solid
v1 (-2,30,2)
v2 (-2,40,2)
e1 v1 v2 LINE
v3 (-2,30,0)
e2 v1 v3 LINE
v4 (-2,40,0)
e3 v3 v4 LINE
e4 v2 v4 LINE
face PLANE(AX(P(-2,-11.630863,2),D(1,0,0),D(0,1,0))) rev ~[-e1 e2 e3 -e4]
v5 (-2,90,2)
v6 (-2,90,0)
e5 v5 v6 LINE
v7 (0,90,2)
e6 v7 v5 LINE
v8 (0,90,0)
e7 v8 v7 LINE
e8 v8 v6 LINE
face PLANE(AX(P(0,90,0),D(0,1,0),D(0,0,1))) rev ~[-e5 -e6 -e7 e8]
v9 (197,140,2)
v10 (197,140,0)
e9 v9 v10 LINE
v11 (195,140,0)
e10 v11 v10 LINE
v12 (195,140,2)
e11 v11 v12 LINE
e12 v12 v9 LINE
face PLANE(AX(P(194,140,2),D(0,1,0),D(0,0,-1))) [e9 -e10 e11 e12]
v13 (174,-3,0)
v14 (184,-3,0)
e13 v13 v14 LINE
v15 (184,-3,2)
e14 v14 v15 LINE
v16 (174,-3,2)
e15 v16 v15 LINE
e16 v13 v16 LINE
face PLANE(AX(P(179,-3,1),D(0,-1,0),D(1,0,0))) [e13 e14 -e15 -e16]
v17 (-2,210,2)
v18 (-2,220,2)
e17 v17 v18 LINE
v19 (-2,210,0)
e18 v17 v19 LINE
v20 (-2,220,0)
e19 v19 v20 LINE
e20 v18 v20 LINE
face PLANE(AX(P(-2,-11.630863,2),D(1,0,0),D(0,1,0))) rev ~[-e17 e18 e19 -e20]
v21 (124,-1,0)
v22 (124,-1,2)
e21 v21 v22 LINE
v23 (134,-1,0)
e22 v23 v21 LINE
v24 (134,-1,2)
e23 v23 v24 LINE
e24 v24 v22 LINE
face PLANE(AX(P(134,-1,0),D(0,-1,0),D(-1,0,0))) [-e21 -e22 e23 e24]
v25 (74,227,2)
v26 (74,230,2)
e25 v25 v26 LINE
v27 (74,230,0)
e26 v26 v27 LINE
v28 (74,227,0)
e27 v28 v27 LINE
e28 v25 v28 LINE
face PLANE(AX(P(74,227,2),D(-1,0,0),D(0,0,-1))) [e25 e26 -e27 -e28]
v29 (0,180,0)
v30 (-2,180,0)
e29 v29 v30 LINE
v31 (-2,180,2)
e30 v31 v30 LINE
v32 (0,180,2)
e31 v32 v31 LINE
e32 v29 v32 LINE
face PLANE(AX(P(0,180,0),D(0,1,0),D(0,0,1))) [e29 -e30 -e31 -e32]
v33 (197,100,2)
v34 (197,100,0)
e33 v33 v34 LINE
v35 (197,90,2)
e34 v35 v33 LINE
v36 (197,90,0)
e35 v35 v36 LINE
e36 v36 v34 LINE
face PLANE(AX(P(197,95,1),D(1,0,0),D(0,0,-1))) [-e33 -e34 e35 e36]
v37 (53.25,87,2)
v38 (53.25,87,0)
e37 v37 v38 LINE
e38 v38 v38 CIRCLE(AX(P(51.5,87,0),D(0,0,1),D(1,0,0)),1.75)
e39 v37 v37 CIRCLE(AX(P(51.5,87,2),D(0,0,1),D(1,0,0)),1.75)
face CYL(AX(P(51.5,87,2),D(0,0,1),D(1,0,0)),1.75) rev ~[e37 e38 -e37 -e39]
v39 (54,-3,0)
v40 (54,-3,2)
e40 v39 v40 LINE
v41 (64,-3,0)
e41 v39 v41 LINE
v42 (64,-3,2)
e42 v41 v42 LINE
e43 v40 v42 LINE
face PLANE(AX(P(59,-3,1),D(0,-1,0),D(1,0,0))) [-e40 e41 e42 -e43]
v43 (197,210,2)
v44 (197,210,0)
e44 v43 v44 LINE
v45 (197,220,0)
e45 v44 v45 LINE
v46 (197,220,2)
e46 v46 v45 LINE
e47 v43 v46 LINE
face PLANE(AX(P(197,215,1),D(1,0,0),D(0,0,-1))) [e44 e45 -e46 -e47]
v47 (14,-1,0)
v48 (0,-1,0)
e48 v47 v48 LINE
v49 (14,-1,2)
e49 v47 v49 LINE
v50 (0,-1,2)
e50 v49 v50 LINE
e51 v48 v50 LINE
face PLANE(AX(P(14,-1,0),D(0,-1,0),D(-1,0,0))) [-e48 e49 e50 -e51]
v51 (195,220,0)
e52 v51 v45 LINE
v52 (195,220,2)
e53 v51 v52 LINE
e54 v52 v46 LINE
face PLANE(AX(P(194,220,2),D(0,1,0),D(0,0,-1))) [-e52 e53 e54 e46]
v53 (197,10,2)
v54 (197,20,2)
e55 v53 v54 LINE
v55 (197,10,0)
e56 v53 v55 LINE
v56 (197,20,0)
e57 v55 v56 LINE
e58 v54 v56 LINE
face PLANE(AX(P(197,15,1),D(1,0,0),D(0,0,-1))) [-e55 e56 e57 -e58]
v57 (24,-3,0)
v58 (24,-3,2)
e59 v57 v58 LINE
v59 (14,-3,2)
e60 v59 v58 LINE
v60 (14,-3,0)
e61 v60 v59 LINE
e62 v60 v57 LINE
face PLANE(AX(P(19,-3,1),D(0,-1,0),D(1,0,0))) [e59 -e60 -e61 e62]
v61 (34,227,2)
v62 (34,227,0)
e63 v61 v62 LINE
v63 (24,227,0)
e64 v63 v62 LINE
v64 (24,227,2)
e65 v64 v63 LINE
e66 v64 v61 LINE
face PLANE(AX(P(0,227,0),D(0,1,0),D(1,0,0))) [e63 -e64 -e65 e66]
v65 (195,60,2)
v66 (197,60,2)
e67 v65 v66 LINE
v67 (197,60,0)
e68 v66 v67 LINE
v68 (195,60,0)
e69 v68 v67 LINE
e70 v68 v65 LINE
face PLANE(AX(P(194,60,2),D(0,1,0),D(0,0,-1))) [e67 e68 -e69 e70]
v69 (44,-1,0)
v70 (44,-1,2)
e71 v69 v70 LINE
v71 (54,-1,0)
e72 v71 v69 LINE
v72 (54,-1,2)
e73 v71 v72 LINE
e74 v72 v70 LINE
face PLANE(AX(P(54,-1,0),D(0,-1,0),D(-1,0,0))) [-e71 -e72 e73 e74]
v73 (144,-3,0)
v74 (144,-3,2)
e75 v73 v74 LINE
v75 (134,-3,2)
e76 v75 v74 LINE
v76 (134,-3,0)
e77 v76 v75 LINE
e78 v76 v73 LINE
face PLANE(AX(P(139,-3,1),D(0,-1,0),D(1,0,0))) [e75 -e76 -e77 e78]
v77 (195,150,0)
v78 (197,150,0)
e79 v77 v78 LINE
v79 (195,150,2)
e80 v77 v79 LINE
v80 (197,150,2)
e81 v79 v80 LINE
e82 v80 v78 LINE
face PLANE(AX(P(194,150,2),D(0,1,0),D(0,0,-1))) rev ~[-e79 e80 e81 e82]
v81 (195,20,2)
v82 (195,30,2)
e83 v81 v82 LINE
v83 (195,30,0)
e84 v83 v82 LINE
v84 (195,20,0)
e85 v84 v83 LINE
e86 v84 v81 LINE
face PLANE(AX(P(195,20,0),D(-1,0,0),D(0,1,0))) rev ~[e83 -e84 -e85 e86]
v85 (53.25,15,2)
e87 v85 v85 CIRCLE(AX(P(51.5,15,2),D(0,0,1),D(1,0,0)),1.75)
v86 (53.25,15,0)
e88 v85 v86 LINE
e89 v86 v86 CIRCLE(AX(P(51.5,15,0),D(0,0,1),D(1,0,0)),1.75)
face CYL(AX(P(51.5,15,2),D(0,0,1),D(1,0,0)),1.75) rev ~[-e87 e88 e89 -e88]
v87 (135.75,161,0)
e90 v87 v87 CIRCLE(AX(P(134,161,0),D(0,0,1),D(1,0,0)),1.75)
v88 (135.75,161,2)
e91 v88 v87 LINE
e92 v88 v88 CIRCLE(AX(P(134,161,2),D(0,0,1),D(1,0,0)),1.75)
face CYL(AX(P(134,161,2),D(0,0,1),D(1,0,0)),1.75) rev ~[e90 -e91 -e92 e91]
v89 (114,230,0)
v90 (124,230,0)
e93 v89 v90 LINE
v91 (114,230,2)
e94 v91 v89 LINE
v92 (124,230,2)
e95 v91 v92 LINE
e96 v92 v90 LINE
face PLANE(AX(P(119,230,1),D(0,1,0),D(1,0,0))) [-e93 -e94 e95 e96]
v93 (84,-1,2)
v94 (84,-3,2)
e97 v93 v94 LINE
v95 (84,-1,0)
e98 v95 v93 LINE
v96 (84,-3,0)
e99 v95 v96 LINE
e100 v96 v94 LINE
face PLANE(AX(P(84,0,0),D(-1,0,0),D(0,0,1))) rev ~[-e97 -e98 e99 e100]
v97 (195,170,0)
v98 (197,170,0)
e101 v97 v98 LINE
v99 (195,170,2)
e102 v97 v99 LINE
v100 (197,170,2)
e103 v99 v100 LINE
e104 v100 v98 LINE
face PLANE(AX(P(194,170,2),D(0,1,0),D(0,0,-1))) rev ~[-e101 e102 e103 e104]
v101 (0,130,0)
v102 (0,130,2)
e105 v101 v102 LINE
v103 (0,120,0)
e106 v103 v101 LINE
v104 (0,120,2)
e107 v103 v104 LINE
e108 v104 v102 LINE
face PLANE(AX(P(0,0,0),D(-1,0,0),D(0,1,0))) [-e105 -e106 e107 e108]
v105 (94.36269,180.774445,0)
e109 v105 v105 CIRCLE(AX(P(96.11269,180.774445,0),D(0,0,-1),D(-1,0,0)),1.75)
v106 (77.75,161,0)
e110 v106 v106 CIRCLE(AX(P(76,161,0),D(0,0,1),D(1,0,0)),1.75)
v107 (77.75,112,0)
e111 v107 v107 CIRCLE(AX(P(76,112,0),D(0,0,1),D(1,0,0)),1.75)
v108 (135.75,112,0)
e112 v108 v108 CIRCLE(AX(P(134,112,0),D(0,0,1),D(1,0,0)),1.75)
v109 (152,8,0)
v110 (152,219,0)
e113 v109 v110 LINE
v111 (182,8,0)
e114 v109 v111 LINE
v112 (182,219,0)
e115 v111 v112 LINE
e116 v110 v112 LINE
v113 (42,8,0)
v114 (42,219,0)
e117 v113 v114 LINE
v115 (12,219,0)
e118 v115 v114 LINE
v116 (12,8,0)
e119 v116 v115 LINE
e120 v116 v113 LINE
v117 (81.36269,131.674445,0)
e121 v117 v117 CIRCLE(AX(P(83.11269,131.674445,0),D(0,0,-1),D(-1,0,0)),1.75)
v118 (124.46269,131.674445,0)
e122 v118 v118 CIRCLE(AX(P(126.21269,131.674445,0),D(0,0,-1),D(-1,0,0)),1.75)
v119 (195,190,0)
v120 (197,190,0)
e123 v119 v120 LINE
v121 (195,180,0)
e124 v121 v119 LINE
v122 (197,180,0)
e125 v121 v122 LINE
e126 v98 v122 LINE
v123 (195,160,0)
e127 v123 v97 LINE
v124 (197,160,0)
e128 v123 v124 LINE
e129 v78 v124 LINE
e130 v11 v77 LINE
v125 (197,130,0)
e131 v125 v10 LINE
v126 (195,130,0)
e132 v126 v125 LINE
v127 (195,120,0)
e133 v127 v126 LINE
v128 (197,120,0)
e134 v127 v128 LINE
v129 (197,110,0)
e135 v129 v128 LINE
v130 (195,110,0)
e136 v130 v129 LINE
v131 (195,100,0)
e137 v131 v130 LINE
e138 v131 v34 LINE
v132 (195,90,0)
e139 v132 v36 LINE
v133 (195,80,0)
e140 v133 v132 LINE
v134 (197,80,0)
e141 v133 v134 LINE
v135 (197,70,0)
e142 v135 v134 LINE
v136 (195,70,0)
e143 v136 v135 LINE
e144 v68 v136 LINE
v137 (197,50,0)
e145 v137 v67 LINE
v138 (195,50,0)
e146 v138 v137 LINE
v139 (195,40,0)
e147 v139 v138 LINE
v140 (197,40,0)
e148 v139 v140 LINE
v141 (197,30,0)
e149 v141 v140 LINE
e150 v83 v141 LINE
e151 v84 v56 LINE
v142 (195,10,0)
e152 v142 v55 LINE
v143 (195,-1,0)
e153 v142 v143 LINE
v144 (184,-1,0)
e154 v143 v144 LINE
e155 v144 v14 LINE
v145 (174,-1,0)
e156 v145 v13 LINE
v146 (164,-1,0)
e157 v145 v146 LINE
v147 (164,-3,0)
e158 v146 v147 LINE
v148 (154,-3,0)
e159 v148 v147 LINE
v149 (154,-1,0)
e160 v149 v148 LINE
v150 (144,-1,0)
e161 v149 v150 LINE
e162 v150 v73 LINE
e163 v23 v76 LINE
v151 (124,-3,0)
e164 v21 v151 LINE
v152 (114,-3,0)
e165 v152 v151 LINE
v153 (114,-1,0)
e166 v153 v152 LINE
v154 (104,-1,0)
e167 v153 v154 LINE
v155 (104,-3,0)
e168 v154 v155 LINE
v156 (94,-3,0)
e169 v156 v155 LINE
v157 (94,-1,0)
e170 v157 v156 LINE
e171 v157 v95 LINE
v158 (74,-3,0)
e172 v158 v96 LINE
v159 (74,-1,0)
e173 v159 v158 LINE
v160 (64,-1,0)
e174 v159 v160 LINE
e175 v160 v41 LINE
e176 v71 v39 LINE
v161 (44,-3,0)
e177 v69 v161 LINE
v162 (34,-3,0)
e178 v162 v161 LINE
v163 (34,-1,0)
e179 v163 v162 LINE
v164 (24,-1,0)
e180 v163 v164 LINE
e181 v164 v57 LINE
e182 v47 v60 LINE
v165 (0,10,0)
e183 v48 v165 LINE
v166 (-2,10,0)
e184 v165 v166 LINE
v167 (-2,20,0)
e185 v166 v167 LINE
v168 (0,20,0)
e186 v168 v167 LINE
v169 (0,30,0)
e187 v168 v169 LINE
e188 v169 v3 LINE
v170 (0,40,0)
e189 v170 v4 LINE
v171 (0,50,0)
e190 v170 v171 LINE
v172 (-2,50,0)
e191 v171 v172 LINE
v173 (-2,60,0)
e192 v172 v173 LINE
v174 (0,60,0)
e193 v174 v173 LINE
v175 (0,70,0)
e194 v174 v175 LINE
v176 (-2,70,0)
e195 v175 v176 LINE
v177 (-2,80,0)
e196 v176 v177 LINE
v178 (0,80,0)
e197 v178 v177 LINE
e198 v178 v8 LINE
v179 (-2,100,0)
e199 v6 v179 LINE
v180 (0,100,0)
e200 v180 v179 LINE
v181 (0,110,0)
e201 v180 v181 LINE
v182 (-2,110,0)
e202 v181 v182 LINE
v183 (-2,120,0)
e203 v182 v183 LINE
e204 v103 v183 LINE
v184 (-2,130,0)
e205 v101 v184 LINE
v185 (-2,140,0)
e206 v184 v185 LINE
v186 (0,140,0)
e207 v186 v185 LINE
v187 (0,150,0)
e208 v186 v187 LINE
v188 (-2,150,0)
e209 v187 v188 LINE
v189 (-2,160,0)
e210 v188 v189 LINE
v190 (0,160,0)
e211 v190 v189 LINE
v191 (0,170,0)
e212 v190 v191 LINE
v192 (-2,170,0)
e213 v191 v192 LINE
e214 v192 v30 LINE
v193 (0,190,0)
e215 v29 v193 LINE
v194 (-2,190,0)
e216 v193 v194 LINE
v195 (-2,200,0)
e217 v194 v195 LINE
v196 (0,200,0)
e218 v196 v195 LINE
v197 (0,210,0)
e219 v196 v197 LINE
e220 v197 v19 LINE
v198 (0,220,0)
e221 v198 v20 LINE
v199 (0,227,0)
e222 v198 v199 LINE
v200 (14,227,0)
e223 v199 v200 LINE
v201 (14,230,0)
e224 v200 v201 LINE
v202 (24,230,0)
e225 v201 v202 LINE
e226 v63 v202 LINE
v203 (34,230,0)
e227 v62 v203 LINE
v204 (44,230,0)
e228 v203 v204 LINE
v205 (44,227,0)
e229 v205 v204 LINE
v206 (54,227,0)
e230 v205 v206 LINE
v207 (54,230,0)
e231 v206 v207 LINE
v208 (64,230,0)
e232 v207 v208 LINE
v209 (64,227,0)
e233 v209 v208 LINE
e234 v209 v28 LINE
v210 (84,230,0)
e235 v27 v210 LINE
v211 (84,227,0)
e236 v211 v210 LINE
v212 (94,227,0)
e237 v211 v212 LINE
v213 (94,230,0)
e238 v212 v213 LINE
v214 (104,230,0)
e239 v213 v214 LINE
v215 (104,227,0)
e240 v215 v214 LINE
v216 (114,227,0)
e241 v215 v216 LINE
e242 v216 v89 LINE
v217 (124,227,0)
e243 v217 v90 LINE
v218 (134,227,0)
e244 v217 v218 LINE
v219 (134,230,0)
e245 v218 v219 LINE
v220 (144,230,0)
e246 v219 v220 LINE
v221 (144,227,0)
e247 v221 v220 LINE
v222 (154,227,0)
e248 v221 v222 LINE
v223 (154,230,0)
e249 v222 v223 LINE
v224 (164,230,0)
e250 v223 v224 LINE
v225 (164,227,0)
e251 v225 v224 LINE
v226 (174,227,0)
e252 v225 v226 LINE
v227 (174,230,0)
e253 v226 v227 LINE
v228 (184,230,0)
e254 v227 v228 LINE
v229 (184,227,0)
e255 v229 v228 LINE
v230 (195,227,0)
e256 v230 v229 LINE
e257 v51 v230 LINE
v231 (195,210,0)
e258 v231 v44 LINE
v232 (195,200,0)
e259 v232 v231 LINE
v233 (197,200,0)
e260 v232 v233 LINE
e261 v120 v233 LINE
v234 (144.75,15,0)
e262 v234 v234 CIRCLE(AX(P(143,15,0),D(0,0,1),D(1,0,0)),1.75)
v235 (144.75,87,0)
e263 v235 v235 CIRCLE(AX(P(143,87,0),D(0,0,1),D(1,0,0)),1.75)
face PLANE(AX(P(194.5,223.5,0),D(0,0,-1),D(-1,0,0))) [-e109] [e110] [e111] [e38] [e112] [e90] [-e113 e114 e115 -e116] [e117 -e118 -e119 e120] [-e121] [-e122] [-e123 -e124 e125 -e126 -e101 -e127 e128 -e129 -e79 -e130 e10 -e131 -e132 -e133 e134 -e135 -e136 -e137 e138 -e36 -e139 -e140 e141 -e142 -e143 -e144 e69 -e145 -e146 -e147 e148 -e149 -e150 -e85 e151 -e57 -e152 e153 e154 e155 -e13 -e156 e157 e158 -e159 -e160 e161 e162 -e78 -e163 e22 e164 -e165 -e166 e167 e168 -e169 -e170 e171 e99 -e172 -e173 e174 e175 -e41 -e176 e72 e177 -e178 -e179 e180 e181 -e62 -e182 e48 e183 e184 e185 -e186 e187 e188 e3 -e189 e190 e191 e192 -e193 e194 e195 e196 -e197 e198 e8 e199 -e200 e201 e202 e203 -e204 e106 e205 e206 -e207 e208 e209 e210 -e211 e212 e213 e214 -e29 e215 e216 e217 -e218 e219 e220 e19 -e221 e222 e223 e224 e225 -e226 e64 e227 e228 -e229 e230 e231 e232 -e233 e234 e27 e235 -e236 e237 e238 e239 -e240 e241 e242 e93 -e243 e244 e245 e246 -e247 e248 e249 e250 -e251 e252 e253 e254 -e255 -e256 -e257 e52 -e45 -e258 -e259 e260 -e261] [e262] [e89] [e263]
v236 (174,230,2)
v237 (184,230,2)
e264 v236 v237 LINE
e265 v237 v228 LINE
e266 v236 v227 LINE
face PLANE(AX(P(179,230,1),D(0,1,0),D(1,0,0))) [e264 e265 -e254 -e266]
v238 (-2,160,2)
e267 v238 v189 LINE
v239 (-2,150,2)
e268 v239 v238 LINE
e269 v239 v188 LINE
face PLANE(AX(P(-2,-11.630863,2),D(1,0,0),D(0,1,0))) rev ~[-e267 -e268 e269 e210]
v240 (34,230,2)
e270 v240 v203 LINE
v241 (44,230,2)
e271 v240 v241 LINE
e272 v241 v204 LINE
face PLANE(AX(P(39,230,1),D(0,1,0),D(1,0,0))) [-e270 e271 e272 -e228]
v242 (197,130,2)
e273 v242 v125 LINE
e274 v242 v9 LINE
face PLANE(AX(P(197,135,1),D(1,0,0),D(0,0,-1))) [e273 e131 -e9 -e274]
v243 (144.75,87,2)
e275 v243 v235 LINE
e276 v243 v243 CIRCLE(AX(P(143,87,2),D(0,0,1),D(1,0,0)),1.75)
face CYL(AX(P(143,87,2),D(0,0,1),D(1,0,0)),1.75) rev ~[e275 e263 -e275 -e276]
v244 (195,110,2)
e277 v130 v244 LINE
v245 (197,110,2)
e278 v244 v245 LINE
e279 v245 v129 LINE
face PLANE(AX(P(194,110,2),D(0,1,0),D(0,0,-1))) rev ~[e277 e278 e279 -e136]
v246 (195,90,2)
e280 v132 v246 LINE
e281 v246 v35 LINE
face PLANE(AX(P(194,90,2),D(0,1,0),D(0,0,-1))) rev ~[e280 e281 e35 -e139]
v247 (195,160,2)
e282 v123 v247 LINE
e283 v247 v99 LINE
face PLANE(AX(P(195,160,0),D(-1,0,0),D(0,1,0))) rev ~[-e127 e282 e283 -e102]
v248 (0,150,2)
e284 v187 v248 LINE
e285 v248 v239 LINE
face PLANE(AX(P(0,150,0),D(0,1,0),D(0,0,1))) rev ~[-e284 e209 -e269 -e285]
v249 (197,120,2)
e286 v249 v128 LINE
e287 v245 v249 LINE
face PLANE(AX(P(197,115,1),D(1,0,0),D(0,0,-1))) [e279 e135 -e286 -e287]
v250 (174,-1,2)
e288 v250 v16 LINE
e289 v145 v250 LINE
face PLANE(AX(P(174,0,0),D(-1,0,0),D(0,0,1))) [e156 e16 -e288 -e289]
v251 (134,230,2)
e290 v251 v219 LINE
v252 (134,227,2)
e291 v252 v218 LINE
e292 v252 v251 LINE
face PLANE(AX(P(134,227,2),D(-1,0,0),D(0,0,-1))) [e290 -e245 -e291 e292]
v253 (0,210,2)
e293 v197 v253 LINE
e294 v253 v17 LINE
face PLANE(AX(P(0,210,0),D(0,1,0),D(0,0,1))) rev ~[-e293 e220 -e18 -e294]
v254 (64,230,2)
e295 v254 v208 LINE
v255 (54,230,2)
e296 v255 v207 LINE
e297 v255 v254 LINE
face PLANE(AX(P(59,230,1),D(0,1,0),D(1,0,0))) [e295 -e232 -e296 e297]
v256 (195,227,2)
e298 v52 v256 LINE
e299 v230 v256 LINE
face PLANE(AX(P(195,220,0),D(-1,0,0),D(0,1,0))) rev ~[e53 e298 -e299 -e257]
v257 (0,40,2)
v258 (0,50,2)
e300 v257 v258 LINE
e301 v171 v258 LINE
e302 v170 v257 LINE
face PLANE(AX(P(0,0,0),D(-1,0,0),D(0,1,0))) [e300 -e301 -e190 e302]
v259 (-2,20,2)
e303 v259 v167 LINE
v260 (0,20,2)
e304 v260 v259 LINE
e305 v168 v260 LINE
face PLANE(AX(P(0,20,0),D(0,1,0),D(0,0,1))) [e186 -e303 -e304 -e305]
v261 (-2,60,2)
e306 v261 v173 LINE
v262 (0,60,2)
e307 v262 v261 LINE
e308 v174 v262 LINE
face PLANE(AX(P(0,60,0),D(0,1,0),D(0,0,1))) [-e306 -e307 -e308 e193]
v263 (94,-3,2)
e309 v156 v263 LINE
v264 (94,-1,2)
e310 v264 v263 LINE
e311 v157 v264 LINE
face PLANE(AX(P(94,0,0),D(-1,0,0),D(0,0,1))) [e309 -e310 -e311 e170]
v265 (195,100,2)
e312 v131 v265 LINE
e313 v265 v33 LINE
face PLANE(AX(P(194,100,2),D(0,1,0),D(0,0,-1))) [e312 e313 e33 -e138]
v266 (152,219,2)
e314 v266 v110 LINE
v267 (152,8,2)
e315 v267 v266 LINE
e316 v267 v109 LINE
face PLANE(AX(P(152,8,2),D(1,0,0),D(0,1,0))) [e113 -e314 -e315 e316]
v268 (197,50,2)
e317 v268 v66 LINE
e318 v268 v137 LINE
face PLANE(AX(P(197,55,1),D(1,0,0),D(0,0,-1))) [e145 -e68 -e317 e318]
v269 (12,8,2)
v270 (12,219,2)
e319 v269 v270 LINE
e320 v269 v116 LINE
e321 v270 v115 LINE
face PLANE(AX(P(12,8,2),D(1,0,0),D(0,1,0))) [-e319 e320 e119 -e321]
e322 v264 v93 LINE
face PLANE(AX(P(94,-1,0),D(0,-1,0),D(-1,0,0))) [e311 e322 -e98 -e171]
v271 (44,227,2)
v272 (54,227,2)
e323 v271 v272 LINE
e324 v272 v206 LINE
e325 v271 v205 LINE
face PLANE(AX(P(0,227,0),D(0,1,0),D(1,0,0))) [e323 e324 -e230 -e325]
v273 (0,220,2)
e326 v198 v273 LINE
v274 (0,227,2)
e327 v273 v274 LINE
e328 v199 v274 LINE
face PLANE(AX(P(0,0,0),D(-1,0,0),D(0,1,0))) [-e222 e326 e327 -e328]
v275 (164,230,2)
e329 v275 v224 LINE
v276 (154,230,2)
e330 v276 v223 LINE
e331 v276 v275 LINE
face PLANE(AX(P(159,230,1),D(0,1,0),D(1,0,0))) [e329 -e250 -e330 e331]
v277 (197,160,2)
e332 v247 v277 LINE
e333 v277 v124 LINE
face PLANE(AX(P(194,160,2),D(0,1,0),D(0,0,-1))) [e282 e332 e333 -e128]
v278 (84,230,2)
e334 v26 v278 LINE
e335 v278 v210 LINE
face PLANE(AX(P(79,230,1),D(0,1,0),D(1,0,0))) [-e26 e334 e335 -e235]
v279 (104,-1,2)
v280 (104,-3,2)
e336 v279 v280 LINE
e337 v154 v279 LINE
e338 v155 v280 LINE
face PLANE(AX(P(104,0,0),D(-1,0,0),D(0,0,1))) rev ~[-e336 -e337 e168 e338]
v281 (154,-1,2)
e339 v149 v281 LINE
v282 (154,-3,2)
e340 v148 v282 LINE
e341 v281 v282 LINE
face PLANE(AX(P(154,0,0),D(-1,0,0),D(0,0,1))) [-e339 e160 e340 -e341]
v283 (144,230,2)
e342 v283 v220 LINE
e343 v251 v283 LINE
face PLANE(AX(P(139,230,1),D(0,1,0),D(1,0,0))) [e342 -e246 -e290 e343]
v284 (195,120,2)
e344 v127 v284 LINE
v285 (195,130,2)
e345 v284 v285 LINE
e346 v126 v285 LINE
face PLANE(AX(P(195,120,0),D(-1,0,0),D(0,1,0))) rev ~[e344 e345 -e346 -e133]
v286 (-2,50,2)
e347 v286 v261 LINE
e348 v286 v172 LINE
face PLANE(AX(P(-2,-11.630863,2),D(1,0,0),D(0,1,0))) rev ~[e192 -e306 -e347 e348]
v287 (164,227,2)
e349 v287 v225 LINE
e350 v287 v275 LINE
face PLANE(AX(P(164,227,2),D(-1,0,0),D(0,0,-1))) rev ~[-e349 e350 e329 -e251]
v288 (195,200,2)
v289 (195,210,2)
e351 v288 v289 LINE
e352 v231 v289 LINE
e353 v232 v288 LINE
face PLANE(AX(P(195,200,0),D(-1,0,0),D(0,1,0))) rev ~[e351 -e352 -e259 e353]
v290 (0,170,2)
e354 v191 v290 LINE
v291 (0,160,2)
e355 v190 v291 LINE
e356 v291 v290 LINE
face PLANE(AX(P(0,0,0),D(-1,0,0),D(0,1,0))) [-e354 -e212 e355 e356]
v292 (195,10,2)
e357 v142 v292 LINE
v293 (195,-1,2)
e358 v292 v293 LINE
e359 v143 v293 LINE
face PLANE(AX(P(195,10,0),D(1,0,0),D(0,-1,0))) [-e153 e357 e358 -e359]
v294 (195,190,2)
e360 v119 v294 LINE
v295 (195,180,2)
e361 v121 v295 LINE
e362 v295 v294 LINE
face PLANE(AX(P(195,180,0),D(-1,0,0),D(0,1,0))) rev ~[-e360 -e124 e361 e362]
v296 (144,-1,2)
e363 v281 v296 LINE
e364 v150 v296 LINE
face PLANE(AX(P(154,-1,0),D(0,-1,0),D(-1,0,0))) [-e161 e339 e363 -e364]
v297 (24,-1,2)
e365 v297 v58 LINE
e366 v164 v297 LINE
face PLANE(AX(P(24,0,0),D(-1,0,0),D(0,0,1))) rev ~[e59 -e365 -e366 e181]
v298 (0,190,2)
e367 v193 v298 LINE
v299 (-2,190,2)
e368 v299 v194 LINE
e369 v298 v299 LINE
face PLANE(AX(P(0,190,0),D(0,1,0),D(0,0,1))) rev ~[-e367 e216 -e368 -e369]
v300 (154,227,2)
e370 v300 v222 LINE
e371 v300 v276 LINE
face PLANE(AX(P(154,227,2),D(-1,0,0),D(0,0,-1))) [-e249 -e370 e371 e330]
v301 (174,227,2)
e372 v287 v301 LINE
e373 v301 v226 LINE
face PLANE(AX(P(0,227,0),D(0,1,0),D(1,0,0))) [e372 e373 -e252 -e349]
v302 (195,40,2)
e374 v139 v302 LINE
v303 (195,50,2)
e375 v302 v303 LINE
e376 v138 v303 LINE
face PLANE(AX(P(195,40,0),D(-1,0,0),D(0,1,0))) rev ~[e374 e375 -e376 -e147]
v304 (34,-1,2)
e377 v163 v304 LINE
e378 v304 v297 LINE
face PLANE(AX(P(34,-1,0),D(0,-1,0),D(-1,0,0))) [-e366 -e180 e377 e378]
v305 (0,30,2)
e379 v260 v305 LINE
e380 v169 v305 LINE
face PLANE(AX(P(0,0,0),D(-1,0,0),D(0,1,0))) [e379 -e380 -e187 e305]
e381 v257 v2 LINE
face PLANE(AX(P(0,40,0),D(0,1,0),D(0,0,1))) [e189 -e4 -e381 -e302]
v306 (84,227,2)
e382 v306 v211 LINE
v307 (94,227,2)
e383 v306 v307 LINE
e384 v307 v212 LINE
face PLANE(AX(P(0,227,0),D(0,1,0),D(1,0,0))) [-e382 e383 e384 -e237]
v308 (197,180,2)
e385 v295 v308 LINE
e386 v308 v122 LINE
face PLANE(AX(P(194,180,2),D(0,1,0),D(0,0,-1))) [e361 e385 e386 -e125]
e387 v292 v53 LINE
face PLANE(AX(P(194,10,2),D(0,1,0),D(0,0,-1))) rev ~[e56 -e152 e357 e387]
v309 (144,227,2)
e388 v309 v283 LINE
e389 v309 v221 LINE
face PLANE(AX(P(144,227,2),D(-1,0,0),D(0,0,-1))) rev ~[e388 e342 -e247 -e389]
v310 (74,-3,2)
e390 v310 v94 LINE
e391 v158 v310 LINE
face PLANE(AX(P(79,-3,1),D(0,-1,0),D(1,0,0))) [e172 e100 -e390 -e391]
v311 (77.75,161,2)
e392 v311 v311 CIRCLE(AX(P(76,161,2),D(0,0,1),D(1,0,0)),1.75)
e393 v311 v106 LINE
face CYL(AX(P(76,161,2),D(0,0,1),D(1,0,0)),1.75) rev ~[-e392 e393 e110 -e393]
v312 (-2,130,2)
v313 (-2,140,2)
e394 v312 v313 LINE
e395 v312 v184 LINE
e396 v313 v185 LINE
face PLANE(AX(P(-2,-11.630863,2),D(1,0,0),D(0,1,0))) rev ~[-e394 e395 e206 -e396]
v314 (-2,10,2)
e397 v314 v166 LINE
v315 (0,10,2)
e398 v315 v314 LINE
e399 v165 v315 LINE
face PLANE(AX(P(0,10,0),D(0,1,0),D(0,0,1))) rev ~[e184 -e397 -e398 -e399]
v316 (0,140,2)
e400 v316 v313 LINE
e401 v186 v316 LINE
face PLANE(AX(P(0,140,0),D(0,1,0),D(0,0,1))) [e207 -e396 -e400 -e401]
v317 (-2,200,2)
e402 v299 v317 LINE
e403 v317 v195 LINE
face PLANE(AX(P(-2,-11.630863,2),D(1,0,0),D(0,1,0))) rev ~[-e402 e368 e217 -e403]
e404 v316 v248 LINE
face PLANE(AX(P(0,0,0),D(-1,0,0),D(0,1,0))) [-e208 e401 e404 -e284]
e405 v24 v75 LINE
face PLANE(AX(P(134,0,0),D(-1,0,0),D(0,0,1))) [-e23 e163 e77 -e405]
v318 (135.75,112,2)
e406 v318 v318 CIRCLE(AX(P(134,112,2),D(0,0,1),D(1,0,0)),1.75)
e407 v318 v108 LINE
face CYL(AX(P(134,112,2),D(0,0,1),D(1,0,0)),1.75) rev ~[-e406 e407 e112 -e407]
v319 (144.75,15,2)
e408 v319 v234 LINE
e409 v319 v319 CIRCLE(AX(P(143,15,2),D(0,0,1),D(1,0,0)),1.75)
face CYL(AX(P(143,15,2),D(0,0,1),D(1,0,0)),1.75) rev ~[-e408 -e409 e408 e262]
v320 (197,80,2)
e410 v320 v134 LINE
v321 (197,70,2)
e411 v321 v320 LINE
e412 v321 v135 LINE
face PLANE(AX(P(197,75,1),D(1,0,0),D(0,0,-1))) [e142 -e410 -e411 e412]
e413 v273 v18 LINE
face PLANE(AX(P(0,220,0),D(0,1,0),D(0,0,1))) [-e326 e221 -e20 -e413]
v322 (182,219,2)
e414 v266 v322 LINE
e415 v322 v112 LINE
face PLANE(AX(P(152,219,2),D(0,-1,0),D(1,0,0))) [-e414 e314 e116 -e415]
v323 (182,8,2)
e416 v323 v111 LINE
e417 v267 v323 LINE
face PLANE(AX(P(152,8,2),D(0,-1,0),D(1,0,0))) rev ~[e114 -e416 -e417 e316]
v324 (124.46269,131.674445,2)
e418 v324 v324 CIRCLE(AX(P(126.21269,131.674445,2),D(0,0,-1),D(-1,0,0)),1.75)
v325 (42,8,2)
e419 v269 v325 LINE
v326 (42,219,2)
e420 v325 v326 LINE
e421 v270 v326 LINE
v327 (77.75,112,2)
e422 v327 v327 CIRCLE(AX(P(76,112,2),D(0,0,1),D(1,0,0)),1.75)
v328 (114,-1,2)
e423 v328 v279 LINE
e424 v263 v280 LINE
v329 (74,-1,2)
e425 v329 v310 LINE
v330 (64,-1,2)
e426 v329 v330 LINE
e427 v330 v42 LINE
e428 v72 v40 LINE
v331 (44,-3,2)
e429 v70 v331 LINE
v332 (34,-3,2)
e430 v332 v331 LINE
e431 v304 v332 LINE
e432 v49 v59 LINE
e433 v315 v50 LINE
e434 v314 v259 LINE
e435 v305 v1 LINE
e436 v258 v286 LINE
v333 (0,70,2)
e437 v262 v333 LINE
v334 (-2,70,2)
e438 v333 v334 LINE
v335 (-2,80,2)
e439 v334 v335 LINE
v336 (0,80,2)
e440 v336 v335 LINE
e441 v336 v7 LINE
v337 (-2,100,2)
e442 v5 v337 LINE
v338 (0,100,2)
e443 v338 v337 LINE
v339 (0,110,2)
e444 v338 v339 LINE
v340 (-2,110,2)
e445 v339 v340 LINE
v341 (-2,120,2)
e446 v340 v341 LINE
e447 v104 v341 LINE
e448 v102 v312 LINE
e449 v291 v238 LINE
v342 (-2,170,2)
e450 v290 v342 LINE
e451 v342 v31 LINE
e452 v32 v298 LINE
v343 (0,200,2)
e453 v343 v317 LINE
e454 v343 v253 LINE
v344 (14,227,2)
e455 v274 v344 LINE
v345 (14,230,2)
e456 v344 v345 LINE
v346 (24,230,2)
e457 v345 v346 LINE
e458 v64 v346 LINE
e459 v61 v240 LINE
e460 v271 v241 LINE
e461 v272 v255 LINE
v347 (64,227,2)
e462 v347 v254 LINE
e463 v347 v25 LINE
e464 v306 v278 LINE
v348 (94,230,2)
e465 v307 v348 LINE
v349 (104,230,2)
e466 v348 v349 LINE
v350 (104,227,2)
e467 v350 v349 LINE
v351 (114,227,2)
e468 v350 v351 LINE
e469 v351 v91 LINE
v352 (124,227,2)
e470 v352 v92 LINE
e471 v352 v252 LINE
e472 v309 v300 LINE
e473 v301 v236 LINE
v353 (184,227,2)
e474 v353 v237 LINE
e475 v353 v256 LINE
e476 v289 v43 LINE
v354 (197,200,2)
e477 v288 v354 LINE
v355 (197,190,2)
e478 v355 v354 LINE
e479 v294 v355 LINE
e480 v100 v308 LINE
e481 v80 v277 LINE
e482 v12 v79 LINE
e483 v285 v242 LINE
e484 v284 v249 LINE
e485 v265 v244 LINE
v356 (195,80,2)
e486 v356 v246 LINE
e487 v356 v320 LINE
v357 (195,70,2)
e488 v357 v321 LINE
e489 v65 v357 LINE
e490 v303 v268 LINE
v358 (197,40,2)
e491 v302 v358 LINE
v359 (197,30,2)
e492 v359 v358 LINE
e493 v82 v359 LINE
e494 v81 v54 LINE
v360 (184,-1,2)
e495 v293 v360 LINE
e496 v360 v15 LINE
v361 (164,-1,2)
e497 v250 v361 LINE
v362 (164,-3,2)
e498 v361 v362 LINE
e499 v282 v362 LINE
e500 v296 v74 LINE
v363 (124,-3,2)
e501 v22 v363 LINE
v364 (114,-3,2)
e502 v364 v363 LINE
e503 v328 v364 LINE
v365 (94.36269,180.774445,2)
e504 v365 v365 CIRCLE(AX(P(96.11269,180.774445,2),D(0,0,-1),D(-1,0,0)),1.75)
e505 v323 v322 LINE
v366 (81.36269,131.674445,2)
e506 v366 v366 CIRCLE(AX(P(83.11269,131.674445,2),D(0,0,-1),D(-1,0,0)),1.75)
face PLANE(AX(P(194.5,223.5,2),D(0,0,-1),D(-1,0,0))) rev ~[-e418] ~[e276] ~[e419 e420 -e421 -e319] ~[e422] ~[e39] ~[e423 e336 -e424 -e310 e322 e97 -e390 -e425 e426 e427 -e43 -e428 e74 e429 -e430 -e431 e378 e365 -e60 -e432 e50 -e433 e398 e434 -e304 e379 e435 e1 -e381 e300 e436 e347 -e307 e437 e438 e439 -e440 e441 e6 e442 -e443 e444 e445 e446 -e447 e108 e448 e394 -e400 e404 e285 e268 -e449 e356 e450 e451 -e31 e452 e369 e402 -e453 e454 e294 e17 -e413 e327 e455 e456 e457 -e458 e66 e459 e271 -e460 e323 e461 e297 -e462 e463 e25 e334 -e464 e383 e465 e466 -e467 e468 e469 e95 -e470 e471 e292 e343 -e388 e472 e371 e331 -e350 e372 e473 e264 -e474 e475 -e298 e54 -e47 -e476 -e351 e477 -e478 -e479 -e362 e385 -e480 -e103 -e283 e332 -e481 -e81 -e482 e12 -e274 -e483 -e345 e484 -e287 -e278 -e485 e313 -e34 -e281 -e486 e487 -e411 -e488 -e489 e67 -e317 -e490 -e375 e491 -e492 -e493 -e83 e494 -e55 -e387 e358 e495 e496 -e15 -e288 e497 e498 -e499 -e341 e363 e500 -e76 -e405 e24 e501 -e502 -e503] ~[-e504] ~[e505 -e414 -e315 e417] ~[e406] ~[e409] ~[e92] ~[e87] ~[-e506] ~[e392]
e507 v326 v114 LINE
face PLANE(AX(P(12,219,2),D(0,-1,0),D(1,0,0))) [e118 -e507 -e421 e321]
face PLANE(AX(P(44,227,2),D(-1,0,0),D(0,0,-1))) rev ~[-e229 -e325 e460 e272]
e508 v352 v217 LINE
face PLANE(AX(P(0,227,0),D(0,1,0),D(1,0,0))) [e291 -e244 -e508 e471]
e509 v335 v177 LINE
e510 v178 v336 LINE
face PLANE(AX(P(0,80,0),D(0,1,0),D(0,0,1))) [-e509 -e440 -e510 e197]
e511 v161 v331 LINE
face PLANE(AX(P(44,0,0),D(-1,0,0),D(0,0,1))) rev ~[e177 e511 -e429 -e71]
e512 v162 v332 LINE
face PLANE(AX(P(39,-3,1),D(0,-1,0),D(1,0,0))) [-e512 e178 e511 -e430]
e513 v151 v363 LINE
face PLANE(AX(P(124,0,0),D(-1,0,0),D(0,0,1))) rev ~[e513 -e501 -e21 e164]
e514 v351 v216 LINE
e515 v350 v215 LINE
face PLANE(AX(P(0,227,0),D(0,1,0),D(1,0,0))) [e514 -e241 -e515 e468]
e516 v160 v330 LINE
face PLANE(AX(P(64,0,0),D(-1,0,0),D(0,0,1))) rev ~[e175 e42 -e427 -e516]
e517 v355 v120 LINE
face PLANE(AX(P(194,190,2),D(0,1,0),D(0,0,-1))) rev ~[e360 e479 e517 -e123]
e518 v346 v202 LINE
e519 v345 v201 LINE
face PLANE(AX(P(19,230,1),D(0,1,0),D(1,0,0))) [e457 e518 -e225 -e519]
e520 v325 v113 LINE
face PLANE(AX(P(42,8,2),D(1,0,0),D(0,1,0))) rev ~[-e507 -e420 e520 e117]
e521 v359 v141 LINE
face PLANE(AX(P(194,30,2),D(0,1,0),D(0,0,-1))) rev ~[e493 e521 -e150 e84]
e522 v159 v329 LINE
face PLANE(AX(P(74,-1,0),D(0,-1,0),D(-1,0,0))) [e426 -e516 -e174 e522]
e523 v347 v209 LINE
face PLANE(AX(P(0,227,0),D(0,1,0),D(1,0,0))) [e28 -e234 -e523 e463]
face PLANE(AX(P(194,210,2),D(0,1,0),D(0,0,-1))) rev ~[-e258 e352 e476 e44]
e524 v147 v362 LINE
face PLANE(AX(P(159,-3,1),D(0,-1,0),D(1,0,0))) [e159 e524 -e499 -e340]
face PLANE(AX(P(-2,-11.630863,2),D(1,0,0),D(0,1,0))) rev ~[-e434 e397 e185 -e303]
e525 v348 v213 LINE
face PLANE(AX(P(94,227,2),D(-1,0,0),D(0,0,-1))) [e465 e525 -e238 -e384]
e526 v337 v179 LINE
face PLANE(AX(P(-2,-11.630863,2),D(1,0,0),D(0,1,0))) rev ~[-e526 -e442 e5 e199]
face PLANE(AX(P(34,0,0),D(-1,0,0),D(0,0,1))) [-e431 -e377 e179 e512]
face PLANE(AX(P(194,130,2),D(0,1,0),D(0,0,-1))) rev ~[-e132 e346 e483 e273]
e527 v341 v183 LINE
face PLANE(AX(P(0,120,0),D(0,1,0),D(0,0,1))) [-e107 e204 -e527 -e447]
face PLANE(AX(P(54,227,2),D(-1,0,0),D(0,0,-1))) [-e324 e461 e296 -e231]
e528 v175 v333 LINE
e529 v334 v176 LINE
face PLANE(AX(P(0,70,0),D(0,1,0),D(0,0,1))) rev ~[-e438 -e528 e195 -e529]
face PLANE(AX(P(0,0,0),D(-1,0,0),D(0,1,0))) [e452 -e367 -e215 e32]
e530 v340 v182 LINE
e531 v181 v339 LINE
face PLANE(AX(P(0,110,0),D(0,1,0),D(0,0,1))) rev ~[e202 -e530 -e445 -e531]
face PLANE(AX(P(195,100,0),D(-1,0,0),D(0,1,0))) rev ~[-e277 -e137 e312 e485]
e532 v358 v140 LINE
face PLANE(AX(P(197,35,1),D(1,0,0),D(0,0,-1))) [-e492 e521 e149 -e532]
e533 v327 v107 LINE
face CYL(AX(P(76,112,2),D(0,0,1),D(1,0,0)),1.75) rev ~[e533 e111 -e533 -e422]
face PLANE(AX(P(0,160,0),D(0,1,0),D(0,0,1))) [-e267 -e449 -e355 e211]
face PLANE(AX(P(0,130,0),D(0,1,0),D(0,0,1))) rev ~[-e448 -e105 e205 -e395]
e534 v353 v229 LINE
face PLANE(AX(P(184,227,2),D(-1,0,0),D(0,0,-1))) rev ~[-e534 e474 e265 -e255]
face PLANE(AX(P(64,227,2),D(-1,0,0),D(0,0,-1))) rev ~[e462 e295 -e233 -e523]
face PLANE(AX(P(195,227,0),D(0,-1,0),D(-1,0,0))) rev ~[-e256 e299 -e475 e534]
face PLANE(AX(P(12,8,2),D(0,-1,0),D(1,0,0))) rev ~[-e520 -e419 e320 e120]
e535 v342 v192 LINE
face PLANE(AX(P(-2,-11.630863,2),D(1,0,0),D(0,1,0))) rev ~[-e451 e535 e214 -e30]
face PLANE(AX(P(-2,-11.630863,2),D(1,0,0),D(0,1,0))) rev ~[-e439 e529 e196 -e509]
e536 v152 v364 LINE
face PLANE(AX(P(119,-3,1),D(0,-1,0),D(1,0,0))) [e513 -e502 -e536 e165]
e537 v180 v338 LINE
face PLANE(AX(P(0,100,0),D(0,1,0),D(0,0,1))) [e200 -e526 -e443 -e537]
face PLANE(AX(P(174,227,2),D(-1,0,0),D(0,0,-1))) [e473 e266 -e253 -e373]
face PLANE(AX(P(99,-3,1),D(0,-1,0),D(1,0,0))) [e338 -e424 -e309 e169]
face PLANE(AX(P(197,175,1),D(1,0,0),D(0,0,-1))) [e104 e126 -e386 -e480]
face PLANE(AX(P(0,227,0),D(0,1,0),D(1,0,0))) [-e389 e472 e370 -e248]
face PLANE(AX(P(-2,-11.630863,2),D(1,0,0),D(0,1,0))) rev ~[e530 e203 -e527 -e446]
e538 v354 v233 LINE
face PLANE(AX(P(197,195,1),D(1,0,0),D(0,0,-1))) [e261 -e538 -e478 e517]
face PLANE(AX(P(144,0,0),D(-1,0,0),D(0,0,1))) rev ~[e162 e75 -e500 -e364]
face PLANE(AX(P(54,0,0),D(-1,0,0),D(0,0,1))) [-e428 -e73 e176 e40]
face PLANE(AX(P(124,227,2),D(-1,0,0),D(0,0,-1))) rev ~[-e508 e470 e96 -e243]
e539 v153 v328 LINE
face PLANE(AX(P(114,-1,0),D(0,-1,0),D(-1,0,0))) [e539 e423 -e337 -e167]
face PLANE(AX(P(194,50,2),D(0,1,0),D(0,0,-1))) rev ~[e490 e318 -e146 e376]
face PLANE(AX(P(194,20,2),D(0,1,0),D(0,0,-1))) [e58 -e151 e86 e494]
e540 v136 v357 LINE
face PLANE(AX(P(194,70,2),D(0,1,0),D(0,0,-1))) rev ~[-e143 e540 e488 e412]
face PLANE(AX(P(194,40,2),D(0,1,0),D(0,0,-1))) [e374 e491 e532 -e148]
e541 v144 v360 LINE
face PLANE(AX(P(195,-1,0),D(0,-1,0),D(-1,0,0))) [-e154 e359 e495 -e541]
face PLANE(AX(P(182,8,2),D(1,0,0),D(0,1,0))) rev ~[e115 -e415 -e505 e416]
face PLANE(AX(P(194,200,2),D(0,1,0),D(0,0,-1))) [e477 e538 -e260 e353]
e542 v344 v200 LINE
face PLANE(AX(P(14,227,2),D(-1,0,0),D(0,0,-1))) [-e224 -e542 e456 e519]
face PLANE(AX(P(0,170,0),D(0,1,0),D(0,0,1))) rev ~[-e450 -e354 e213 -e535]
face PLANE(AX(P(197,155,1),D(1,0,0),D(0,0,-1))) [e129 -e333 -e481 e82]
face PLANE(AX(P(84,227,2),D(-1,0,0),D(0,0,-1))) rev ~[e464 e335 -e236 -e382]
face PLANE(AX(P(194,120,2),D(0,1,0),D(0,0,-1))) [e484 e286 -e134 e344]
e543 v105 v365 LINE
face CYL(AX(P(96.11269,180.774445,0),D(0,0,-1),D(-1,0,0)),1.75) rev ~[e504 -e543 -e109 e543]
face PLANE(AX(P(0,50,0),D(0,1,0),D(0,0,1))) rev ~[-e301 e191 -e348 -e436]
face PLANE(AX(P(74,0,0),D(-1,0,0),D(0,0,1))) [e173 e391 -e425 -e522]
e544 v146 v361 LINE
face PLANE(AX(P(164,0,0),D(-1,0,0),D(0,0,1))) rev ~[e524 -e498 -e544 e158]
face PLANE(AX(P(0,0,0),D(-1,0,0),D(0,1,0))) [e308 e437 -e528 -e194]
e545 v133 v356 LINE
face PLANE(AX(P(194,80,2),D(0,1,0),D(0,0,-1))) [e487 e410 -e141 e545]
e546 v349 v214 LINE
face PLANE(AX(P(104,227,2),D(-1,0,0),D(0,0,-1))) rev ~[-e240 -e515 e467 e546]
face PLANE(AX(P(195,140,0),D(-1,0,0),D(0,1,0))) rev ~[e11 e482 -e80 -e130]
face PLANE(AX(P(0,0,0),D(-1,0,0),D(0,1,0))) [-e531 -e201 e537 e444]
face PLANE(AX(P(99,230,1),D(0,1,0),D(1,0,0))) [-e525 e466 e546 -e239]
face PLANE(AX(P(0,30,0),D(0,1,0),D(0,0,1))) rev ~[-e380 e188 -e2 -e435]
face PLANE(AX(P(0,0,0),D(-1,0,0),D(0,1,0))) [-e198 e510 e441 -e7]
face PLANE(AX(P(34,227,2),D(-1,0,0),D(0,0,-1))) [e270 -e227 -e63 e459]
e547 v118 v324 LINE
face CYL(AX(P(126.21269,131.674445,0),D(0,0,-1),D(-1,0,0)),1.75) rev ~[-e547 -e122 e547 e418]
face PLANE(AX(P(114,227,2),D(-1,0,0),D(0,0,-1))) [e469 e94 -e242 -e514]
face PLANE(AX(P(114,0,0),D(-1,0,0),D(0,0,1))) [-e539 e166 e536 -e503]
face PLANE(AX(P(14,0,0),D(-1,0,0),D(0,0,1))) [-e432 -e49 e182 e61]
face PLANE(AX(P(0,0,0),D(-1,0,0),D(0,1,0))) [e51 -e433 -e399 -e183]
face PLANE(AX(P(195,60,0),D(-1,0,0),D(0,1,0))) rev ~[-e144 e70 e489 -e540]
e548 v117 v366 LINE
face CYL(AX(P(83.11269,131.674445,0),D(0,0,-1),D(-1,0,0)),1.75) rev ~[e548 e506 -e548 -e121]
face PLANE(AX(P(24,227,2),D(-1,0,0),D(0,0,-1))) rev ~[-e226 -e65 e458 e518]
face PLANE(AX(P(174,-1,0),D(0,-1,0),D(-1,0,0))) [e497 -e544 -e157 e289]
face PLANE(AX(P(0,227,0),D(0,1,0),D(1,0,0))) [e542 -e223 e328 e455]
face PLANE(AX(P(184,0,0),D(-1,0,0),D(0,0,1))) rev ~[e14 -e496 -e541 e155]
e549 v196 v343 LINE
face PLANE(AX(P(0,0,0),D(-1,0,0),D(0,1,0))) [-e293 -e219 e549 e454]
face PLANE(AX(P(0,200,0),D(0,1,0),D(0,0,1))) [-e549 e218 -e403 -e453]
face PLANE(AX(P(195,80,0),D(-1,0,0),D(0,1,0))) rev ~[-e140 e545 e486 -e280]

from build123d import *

# Parameters (mm, degrees)
SKETCH1_W               = 194
SKETCH1_H               = 227
BOSS_EXTRUDE1_DEPTH     = 2
SKETCH2_W               = 2
SKETCH2_H               = 10
BOSS_EXTRUDE2_DEPTH     = 3
LPATTERN1_COUNT         = 11
LPATTERN1_PITCH         = 20
SKETCH4_W               = 2
SKETCH4_H               = 10
BOSS_EXTRUDE3_DEPTH     = 3
LPATTERN2_COUNT         = 11
LPATTERN2_PITCH         = 20
SKETCH5_W               = 10
SKETCH5_H               = 2
BOSS_EXTRUDE4_DEPTH     = 3
LPATTERN3_COUNT         = 9
LPATTERN3_PITCH         = 20
SKETCH6_W               = 10
SKETCH6_H               = 2
BOSS_EXTRUDE5_DEPTH     = 3
LPATTERN4_COUNT         = 9
LPATTERN4_PITCH         = 20
SKETCH7_W               = 30
SKETCH7_H               = 211
CUT_EXTRUDE1_DEPTH      = 3
SKETCH8_R               = 1.75
SKETCH8_W               = 30
SKETCH8_H               = 211
CUT_EXTRUDE2_DEPTH      = 3
ENL_V_START             = -2
ESQUISSE1_W             = 1
ESQUISSE1_H             = 231.630862985
ENL_V_MAT_EXTRU_1_DEPTH = 2
ESQUISSE2_W             = 1
ESQUISSE2_H             = 7
ESQUISSE2_H_2           = 10
ESQUISSE2_W_2           = 10
ESQUISSE2_H_3           = 1
ESQUISSE2_W_3           = 14
BOSS_EXTRU_1_DEPTH      = 2
ESQUISSE3_R             = 1.75
ENL_V_MAT_EXTRU_2_DEPTH = 3


with BuildPart() as part:
    # Sketch1 → Boss-Extrude1 (new body)
    with BuildSketch(Plane.XY):
        with Locations((97, 113.5)):
            Rectangle(SKETCH1_W, SKETCH1_H)
    extrude(amount=BOSS_EXTRUDE1_DEPTH)

    # Sketch2 → Boss-Extrude2 (add)
    with BuildSketch(Plane(origin=(194, 0, 0), x_dir=(0, 0, -1), z_dir=(1, 0, 0))):
        with Locations((-1, 15)):
            Rectangle(SKETCH2_W, SKETCH2_H)
    boss_extrude2 = extrude(amount=BOSS_EXTRUDE2_DEPTH)

    # LPattern1: Boss-Extrude2 ×11
    with Locations(*[(0, i * LPATTERN1_PITCH, 0) for i in range(1, LPATTERN1_COUNT)]):
        add(boss_extrude2)

    # Sketch4 → Boss-Extrude3 (add)
    with BuildSketch(Plane.ZY):
        with Locations((1, 15)):
            Rectangle(SKETCH4_W, SKETCH4_H)
    boss_extrude3 = extrude(amount=BOSS_EXTRUDE3_DEPTH)

    # LPattern2: Boss-Extrude3 ×11
    with Locations(*[(0, i * LPATTERN2_PITCH, 0) for i in range(1, LPATTERN2_COUNT)]):
        add(boss_extrude3)

    # Sketch5 → Boss-Extrude4 (add)
    with BuildSketch(Plane.XZ):
        with Locations((179, 1)):
            Rectangle(SKETCH5_W, SKETCH5_H)
    boss_extrude4 = extrude(amount=BOSS_EXTRUDE4_DEPTH)

    # LPattern3: Boss-Extrude4 ×9
    with Locations(*[(-i * LPATTERN3_PITCH, 0, 0) for i in range(1, LPATTERN3_COUNT)]):
        add(boss_extrude4)

    # Sketch6 → Boss-Extrude5 (add)
    with BuildSketch(Plane(origin=(0, 227, 0), x_dir=(1, 0, 0), z_dir=(0, 1, 0))):
        with Locations((179, -1)):
            Rectangle(SKETCH6_W, SKETCH6_H)
    boss_extrude5 = extrude(amount=BOSS_EXTRUDE5_DEPTH)

    # LPattern4: Boss-Extrude5 ×9
    with Locations(*[(-i * LPATTERN4_PITCH, 0, 0) for i in range(1, LPATTERN4_COUNT)]):
        add(boss_extrude5)

    # Sketch7 → Cut-Extrude1 (cut, through all)
    with BuildSketch(Plane.XY.offset(2)):
        with Locations((27, 113.5)):
            Rectangle(SKETCH7_W, SKETCH7_H)
    extrude(amount=-CUT_EXTRUDE1_DEPTH, mode=Mode.SUBTRACT)

    # Sketch8 → Cut-Extrude2 (cut, through all)
    with BuildSketch(Plane.XY.offset(2)):
        with Locations((143, 15)):
            Circle(SKETCH8_R)
        with Locations((51.5, 15)):
            Circle(SKETCH8_R)
        with Locations((143, 87)):
            Circle(SKETCH8_R)
        with Locations((51.5, 87)):
            Circle(SKETCH8_R)
        with Locations((134, 112)):
            Circle(SKETCH8_R)
        with Locations((76, 112)):
            Circle(SKETCH8_R)
        with Locations((134, 161)):
            Circle(SKETCH8_R)
        with Locations((76, 161)):
            Circle(SKETCH8_R)
        with Locations((167, 113.5)):
            Rectangle(SKETCH8_W, SKETCH8_H)
    extrude(amount=-CUT_EXTRUDE2_DEPTH, mode=Mode.SUBTRACT)

    # Esquisse1 → Enlèv. mat.-Extru.1 (cut)
    with BuildSketch(Plane(origin=(0, 0, 0), x_dir=(-1, 0, 0), z_dir=(0, 0, -1)).offset(ENL_V_START)):
        with Locations((2.5, 104.184568508)):
            Rectangle(ESQUISSE1_W, ESQUISSE1_H)
    extrude(amount=ENL_V_MAT_EXTRU_1_DEPTH, mode=Mode.SUBTRACT)

    # Esquisse2 → Boss.-Extru.1 (add)
    with BuildSketch(Plane(origin=(0, 0, 0), x_dir=(-1, 0, 0), z_dir=(0, 0, -1))):
        with Locations((-194.5, 223.5)):
            Rectangle(ESQUISSE2_W, ESQUISSE2_H)
        with Locations((-194.5, 205)):
            Rectangle(ESQUISSE2_W, ESQUISSE2_H_2)
        with Locations((-194.5, 185)):
            Rectangle(ESQUISSE2_W, ESQUISSE2_H_2)
        with Locations((-194.5, 165)):
            Rectangle(ESQUISSE2_W, ESQUISSE2_H_2)
        with Locations((-194.5, 145)):
            Rectangle(ESQUISSE2_W, ESQUISSE2_H_2)
        with Locations((-194.5, 125)):
            Rectangle(ESQUISSE2_W, ESQUISSE2_H_2)
        with Locations((-194.5, 105)):
            Rectangle(ESQUISSE2_W, ESQUISSE2_H_2)
        with Locations((-194.5, 85)):
            Rectangle(ESQUISSE2_W, ESQUISSE2_H_2)
        with Locations((-194.5, 65)):
            Rectangle(ESQUISSE2_W, ESQUISSE2_H_2)
        with Locations((-194.5, 45)):
            Rectangle(ESQUISSE2_W, ESQUISSE2_H_2)
        with Locations((-194.5, 25)):
            Rectangle(ESQUISSE2_W, ESQUISSE2_H_2)
        Polygon((-194, 0), (-194, 10), (-195, 10), (-195, -1), (-184, -1), (-184, 0), align=None)
        with Locations((-169, -0.5)):
            Rectangle(ESQUISSE2_W_2, ESQUISSE2_H_3)
        with Locations((-149, -0.5)):
            Rectangle(ESQUISSE2_W_2, ESQUISSE2_H_3)
        with Locations((-129, -0.5)):
            Rectangle(ESQUISSE2_W_2, ESQUISSE2_H_3)
        with Locations((-109, -0.5)):
            Rectangle(ESQUISSE2_W_2, ESQUISSE2_H_3)
        with Locations((-89, -0.5)):
            Rectangle(ESQUISSE2_W_2, ESQUISSE2_H_3)
        with Locations((-69, -0.5)):
            Rectangle(ESQUISSE2_W_2, ESQUISSE2_H_3)
        with Locations((-49, -0.5)):
            Rectangle(ESQUISSE2_W_2, ESQUISSE2_H_3)
        with Locations((-29, -0.5)):
            Rectangle(ESQUISSE2_W_2, ESQUISSE2_H_3)
        with Locations((-7, -0.5)):
            Rectangle(ESQUISSE2_W_3, ESQUISSE2_H_3)
    extrude(amount=-BOSS_EXTRU_1_DEPTH)

    # Esquisse3 → Enlèv. mat.-Extru.2 (cut, through all)
    with BuildSketch(Plane(origin=(0, 0, 0), x_dir=(-1, 0, 0), z_dir=(0, 0, -1))):
        with Locations((-96.112690171, 180.774445285)):
            Circle(ESQUISSE3_R)
        with Locations((-126.212690171, 131.674445285)):
            Circle(ESQUISSE3_R)
        with Locations((-83.112690171, 131.674445285)):
            Circle(ESQUISSE3_R)
    extrude(amount=-ENL_V_MAT_EXTRU_2_DEPTH, mode=Mode.SUBTRACT)


solid = part.part
